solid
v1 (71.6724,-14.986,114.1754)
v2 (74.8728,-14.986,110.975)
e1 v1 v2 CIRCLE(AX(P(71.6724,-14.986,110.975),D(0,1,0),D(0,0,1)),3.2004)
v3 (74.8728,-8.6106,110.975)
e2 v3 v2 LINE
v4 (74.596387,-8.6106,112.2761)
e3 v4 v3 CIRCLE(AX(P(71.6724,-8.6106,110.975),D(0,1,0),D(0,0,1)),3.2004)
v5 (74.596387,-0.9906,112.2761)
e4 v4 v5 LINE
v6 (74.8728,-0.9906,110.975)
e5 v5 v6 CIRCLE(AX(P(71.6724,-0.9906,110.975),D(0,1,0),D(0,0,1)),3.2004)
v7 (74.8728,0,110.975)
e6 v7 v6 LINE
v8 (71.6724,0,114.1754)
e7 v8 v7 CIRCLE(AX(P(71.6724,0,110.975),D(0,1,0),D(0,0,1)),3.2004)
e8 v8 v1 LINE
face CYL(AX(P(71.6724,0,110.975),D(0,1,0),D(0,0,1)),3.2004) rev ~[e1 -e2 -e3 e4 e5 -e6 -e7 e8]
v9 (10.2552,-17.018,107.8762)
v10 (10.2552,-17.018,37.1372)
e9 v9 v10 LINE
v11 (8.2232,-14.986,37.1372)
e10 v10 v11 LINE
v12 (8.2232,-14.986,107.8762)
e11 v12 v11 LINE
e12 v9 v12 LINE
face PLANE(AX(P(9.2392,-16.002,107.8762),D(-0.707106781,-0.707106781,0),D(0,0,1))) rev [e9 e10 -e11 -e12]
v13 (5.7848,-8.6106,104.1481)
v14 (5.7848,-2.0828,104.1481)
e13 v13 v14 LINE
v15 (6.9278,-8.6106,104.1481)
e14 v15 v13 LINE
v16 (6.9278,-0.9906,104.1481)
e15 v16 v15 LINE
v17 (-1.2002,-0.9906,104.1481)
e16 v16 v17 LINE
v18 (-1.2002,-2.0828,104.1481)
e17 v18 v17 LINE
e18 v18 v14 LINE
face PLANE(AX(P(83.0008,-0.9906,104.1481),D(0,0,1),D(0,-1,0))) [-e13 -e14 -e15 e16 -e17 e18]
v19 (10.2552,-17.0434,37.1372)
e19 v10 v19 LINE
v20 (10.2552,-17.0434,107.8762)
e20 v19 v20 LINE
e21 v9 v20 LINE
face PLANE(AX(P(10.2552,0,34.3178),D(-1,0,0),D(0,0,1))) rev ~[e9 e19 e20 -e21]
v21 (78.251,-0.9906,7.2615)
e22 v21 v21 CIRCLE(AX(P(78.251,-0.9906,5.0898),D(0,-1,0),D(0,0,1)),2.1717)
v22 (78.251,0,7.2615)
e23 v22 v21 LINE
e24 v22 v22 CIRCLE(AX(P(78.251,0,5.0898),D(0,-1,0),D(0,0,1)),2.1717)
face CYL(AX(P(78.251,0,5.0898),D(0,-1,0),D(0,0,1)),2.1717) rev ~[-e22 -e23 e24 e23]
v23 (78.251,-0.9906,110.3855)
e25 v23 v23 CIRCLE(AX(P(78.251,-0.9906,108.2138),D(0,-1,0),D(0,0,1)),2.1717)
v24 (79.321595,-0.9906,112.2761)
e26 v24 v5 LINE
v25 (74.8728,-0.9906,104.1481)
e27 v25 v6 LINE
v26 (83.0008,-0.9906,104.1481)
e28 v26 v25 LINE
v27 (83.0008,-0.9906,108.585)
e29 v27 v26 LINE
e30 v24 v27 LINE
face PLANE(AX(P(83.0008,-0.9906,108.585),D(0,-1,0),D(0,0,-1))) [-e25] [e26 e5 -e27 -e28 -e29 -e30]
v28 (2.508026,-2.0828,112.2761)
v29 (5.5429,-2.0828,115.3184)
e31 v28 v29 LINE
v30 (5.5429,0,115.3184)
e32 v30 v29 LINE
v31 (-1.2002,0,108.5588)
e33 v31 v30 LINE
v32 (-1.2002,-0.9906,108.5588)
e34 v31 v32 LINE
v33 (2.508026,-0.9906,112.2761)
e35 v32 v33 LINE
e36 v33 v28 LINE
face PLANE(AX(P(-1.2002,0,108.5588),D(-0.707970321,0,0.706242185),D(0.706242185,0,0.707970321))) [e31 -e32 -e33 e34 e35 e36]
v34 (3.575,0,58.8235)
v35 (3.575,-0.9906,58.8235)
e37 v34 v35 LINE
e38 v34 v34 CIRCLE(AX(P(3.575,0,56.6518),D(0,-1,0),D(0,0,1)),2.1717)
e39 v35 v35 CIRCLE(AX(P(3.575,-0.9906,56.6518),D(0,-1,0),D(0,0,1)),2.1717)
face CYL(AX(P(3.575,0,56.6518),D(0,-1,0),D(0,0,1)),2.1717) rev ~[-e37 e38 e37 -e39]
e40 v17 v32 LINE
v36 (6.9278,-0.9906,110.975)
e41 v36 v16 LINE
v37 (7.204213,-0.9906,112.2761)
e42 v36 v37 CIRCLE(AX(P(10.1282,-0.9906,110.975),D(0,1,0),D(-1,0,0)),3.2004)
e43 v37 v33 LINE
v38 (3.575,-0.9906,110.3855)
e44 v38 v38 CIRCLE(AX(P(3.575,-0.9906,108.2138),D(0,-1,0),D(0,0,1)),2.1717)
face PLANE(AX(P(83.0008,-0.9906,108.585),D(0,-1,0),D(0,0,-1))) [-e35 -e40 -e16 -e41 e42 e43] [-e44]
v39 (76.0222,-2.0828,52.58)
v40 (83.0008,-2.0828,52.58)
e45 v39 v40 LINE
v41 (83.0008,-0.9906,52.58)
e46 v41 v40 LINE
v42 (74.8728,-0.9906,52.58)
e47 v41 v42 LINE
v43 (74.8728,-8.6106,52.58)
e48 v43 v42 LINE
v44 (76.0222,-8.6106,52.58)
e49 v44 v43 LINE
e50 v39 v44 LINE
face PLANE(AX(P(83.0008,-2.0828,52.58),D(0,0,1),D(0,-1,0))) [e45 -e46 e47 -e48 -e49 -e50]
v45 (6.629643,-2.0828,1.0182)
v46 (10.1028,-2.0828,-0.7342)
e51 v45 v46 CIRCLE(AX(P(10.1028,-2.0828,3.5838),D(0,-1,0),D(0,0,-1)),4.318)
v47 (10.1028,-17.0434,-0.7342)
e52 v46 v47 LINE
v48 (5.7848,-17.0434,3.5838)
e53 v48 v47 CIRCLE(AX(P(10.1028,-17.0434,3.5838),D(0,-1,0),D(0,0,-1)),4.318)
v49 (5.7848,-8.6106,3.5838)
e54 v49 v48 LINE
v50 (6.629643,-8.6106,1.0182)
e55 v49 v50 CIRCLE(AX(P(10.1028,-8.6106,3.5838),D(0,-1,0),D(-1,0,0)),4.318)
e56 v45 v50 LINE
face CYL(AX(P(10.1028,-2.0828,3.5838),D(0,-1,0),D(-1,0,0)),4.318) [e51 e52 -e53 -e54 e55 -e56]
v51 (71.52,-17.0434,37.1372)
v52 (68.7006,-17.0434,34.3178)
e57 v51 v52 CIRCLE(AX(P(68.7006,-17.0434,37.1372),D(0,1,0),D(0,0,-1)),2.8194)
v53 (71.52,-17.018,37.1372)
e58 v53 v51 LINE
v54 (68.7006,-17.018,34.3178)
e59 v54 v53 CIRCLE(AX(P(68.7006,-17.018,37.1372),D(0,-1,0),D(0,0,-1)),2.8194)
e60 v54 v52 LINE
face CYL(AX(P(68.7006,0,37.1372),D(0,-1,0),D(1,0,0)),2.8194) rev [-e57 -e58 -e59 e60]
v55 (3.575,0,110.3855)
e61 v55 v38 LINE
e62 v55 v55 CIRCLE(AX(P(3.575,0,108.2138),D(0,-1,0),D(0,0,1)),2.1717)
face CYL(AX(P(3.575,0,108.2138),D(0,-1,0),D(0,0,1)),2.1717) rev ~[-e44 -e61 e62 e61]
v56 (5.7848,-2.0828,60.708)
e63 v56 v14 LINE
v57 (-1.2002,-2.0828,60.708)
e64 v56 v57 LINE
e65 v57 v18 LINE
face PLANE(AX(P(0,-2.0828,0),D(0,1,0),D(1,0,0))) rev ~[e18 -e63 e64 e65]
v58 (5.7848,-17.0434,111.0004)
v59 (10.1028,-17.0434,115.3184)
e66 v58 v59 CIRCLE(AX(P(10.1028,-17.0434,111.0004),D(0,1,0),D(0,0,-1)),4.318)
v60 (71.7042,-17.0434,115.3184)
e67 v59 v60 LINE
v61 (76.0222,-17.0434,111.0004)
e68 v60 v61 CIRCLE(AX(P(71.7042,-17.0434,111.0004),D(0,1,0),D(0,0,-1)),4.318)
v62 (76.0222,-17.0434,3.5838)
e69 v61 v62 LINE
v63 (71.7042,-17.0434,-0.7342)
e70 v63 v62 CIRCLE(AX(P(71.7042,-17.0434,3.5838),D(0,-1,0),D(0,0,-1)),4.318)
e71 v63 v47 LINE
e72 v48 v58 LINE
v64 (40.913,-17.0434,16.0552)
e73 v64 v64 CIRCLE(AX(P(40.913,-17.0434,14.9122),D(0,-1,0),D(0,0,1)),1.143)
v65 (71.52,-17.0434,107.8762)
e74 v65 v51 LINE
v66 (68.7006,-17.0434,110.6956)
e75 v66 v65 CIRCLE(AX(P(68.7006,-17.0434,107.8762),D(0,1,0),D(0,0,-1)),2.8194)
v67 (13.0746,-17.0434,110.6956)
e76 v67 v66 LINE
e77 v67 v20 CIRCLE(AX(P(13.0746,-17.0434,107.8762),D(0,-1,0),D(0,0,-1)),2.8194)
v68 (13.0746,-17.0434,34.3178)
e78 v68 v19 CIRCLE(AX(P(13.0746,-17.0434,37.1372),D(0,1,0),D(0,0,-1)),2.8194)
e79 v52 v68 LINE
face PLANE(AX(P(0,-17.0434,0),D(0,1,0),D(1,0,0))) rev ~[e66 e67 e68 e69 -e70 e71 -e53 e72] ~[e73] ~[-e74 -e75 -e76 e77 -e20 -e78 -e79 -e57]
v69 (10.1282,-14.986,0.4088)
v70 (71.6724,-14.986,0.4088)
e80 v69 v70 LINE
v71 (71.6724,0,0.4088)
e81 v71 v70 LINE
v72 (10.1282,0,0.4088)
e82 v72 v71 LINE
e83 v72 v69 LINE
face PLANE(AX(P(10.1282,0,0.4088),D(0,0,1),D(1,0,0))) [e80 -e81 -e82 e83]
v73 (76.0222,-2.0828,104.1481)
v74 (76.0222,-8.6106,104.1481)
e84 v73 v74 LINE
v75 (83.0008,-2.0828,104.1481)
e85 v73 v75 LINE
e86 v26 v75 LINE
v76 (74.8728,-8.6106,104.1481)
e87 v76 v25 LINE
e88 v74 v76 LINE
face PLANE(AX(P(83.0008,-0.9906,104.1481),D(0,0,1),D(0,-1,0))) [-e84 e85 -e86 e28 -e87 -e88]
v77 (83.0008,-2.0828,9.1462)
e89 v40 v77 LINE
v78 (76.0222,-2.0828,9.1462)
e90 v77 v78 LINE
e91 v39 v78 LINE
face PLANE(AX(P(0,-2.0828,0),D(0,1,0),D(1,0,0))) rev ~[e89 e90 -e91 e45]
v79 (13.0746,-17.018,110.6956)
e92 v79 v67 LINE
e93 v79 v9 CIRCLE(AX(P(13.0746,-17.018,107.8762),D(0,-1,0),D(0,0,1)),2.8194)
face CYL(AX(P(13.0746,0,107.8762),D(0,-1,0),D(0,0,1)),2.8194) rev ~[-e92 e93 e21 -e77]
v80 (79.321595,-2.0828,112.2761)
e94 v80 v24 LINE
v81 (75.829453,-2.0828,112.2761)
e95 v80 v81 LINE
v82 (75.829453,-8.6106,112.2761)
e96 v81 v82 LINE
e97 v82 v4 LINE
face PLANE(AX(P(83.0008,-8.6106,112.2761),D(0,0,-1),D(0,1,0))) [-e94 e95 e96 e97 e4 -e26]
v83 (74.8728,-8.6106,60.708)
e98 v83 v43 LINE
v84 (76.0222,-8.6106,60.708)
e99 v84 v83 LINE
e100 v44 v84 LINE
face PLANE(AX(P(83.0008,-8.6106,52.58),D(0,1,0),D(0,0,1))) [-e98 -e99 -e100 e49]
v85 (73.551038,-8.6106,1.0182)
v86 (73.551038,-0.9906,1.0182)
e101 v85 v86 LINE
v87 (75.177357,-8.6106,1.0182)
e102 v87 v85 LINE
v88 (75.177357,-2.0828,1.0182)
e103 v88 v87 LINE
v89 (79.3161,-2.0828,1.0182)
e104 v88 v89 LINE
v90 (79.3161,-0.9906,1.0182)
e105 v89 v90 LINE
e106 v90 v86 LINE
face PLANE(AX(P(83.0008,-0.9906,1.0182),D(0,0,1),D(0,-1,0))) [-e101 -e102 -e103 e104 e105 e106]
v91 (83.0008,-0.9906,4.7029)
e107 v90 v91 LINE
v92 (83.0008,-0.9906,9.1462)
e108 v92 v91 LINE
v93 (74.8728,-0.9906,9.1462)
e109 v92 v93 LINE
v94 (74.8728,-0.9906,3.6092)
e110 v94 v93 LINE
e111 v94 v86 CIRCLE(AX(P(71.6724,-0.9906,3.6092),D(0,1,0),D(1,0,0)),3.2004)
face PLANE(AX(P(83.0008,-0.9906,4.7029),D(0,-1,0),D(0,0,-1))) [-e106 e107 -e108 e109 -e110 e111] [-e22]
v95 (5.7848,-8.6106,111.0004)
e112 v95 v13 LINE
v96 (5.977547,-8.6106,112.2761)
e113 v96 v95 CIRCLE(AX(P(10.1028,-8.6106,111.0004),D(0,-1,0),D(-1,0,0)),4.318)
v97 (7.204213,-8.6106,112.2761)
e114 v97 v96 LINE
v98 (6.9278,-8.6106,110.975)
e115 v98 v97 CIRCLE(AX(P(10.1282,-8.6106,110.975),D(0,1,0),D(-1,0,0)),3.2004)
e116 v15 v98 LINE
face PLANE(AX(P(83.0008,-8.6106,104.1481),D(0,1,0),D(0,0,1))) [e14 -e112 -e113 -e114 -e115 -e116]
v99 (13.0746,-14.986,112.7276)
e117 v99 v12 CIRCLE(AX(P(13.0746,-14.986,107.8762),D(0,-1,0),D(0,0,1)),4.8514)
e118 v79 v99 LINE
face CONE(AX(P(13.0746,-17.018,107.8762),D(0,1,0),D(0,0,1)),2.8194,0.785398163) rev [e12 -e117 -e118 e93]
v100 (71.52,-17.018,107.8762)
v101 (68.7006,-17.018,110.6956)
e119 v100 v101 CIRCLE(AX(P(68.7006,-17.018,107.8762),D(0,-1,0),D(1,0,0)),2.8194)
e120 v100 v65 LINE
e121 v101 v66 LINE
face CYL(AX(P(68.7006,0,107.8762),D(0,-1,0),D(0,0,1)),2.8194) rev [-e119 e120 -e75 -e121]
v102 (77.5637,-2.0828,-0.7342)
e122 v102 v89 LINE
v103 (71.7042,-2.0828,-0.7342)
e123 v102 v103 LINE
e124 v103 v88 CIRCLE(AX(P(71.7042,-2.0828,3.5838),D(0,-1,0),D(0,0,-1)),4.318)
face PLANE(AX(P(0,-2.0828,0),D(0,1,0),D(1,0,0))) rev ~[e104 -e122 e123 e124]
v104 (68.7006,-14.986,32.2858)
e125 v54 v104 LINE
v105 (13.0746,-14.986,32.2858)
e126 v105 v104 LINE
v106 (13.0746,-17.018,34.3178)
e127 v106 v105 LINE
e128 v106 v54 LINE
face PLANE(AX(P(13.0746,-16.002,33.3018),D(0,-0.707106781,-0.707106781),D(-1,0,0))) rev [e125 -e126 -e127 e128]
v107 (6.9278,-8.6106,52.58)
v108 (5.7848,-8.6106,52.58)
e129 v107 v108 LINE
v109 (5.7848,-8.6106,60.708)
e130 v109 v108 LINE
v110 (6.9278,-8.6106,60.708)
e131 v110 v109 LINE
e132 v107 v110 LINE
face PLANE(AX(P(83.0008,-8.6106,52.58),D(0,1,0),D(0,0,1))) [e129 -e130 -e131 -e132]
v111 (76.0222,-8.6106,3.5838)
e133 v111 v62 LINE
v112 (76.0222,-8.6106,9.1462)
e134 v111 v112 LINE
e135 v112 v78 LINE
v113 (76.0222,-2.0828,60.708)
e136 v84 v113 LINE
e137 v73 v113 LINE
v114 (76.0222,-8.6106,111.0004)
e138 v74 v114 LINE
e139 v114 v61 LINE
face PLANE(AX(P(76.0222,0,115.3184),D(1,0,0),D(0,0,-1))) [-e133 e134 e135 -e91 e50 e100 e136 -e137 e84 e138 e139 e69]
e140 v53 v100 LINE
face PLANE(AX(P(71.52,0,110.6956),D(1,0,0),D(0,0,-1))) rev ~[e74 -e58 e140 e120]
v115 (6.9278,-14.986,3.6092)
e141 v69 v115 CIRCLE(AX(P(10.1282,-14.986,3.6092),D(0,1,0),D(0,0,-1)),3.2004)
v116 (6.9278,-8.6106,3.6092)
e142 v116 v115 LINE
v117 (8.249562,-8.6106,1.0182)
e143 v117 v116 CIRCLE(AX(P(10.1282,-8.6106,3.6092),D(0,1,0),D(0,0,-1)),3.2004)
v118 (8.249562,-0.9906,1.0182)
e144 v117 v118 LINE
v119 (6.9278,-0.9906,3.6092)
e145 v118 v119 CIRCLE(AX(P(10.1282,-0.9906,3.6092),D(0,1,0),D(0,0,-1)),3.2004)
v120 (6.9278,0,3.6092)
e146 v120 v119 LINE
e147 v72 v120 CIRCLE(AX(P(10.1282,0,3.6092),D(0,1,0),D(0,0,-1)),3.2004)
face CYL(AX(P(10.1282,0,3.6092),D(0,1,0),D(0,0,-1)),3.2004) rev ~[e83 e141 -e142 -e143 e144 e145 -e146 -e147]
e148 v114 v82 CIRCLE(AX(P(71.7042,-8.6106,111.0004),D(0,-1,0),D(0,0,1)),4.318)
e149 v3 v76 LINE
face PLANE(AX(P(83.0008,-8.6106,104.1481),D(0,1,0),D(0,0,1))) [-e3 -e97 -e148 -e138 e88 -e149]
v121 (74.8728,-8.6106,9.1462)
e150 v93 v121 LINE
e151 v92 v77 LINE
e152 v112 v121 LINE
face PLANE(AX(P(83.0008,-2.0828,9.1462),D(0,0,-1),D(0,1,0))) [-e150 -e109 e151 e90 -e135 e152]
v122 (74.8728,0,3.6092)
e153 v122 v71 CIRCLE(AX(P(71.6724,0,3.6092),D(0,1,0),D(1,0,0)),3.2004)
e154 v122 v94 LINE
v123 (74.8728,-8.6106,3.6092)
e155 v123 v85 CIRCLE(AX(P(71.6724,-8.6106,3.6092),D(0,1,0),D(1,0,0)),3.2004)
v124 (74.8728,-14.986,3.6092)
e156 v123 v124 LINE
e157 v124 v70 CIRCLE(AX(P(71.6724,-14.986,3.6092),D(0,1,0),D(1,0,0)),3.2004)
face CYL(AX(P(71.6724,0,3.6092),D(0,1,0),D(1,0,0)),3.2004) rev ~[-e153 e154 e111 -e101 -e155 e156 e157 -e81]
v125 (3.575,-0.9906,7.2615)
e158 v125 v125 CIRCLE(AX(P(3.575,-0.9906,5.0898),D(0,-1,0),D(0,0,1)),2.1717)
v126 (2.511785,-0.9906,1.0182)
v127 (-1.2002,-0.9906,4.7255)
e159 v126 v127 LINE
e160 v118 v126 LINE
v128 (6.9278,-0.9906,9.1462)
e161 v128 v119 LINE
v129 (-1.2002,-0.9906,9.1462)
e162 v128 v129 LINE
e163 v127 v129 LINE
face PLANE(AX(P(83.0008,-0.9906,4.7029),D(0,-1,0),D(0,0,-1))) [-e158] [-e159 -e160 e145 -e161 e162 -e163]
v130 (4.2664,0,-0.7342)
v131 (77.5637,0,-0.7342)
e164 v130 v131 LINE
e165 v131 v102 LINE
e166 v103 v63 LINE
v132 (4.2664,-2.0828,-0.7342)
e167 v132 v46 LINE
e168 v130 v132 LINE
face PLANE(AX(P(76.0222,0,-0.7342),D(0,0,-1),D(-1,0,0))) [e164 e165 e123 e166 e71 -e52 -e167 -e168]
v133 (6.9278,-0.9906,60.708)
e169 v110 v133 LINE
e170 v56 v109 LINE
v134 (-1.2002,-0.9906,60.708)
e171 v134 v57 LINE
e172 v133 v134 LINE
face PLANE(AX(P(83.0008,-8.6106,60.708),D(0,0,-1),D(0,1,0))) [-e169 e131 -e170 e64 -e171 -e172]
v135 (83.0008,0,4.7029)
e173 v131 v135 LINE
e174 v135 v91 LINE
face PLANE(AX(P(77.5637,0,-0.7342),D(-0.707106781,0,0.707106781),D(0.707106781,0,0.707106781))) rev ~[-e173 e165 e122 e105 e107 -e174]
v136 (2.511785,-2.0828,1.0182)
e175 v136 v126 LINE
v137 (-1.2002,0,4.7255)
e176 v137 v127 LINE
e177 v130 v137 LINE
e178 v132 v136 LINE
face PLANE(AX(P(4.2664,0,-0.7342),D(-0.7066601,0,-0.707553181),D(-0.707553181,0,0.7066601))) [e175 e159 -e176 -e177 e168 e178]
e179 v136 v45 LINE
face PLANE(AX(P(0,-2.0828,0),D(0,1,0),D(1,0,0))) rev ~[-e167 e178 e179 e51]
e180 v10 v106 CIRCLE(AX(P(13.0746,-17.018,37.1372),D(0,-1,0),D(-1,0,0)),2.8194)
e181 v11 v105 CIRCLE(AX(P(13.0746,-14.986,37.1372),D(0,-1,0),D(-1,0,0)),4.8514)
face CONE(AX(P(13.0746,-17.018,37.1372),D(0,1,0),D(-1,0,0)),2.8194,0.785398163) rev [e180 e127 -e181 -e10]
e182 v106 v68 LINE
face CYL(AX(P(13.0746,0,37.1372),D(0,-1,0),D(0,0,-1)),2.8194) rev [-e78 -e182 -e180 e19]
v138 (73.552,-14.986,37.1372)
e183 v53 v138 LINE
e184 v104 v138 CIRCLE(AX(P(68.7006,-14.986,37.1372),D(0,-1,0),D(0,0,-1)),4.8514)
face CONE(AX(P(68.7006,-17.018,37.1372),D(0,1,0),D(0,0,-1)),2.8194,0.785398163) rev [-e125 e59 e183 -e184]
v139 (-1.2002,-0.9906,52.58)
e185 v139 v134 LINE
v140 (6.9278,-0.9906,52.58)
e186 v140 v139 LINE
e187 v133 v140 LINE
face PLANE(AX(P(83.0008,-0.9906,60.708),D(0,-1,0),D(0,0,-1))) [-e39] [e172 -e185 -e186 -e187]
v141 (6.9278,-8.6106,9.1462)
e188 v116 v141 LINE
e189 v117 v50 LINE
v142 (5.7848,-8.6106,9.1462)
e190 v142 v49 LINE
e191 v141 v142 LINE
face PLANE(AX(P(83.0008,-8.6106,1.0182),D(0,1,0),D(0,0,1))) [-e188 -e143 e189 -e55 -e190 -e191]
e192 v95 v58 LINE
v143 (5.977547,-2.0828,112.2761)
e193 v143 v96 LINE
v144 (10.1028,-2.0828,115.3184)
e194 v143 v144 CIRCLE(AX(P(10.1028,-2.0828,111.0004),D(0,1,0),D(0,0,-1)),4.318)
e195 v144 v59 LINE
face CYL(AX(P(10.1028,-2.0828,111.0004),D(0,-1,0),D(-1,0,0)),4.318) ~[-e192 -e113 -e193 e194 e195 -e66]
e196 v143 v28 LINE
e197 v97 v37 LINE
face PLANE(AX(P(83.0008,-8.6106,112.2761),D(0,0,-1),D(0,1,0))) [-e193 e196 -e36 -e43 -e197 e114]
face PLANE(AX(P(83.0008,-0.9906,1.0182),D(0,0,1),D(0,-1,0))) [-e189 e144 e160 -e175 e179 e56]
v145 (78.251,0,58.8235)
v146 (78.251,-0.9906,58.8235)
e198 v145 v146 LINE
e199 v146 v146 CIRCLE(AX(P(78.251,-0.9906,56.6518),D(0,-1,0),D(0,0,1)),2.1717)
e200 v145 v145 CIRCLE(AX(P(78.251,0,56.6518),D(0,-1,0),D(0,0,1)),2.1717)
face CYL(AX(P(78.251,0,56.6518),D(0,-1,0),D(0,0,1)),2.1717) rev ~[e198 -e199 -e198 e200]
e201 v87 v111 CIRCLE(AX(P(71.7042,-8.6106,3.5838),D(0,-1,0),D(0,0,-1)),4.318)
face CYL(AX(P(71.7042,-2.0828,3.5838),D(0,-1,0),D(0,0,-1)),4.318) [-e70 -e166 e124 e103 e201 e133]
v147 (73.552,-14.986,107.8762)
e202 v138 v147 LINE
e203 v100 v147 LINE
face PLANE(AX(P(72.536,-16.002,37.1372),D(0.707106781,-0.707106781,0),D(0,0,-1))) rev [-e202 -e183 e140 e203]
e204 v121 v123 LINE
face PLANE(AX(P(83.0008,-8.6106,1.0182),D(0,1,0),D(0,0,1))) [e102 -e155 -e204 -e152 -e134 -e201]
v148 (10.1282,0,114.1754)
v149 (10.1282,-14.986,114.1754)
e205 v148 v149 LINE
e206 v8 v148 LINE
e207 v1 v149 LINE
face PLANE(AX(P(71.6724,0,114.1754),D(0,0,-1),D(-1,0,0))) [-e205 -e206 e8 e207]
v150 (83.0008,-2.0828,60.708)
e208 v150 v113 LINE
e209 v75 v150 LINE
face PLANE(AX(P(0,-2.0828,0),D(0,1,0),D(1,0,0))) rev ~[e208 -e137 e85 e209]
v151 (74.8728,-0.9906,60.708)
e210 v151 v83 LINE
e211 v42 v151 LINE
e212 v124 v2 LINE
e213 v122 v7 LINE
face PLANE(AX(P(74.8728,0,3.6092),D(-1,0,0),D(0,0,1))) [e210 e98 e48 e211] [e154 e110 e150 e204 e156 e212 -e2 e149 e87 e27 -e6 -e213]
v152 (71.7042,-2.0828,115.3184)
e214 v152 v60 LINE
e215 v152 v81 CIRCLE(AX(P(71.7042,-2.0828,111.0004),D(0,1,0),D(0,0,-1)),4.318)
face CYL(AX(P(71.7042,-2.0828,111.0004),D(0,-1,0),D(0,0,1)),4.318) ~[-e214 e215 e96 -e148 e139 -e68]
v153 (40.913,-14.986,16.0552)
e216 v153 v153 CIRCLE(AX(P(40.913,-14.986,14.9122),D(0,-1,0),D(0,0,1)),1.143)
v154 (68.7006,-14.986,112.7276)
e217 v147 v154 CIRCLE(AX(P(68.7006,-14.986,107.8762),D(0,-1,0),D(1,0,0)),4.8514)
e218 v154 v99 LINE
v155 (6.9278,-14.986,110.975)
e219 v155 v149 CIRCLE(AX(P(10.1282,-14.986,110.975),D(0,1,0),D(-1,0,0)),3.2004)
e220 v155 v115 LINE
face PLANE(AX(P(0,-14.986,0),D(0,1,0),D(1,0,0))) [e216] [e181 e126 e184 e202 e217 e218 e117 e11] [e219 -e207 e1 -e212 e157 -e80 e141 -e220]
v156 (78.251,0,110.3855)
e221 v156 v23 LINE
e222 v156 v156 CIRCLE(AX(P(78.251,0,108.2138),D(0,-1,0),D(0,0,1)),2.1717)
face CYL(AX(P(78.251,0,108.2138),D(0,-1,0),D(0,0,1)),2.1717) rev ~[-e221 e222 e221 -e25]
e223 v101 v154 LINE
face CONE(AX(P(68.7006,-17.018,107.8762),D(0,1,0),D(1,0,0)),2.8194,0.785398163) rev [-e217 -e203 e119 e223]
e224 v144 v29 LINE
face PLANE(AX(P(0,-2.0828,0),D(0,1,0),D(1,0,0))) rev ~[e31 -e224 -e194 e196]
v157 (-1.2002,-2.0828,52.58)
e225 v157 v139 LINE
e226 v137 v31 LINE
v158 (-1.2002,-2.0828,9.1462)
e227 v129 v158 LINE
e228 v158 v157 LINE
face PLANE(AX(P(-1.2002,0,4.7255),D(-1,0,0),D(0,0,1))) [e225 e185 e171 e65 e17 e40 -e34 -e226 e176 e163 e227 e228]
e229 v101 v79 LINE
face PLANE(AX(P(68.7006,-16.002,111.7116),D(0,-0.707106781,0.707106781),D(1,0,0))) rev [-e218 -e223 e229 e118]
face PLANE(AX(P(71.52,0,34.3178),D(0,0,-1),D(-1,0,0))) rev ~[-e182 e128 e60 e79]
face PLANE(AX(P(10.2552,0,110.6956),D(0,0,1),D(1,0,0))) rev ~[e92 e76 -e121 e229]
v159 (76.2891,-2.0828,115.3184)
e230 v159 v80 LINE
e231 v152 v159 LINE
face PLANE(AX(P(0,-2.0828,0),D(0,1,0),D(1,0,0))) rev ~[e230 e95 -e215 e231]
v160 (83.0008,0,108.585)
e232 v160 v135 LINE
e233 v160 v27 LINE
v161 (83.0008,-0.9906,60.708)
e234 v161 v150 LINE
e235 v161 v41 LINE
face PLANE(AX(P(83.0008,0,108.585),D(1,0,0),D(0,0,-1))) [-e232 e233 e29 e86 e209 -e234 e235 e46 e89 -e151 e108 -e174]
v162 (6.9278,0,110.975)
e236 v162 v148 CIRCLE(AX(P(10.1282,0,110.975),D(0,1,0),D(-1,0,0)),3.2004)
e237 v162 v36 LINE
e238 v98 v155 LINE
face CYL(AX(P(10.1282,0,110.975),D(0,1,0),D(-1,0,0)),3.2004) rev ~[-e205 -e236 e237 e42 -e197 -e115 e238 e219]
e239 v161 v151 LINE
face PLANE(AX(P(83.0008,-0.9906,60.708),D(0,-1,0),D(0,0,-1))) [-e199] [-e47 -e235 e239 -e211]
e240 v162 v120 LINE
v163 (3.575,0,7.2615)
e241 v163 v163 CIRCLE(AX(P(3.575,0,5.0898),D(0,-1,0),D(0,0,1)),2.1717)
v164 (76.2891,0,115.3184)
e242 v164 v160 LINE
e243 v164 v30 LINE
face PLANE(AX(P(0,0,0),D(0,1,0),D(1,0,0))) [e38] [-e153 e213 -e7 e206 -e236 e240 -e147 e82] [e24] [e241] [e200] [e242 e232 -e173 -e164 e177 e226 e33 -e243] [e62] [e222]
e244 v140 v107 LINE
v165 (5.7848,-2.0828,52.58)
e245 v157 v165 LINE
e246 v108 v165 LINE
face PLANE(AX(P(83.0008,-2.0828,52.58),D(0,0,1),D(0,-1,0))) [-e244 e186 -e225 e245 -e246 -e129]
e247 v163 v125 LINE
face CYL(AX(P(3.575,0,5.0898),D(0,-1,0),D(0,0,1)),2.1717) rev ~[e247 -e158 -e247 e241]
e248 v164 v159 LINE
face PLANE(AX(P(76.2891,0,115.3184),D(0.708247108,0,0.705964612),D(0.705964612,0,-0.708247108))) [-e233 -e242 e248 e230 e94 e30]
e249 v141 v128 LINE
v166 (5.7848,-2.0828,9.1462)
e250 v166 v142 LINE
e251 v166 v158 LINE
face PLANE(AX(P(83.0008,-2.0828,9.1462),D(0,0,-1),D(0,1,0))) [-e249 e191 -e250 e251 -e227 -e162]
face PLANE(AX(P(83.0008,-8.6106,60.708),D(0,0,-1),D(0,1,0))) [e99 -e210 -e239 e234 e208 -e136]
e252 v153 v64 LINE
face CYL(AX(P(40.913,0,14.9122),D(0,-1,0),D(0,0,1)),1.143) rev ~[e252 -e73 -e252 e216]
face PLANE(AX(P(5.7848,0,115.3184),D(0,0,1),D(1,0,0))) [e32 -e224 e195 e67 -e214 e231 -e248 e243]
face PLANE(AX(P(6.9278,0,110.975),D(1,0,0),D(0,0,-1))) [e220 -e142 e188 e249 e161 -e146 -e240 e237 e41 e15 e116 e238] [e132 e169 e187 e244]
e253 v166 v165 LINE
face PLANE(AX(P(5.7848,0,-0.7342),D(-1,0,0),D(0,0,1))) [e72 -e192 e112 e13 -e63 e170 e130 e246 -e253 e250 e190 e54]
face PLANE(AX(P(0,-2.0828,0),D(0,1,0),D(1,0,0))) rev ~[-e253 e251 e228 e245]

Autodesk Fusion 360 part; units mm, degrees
sketch "Front" plane through (0, 0, 0) normal (0, 1, 0) x (1, 0, 0) in component "2004699A"
  line L0 (-34.4613, 0.7342) -> (100.7673, 0.7342) construction
  line L1 (-34.854, -115.3184) -> (120.0108, -115.3184) construction
  line L2 (39.1093, -14.9122) -> (120.6654, -14.9122) construction
  line L3 (3.575, 24.5274) -> (3.575, -141.9882) construction
  line L4 (78.251, 23.8729) -> (78.251, -119.9956) construction
  line L5 (-16.7886, -108.2138) -> (88.0691, -108.2138) construction
  line L6 (-18.2286, -5.0898) -> (85.3201, -5.0898) construction
  line L7 (-8.6723, -56.6518) -> (96.0546, -56.6518) construction
  line L8 (-24.3813, -113.9722) -> (90.4255, -113.9722) construction
  line L9 (-27.0881, -0.4088) -> (83.5136, -0.4088) construction
  line L10 (10.2552, -130.527) -> (10.2552, 10.1996) construction
  line L11 (71.52, -130.1852) -> (71.52, 12.6775) construction
  line L12 (5.7848, -130.0998) -> (5.7848, 6.3546) construction
  line L13 (83.0008, -137.1267) -> (83.0008, 10.6162) construction
  line L14 (-1.2002, -137.339) -> (-1.2002, 17.644) construction
  line L15 (110.5413, -110.6956) -> (5.7848, -110.6956) construction
  line L16 (110.1974, -34.3178) -> (-2.9547, -34.3178) construction
  line L17 (102.8889, -60.7158) -> (-8.8875, -60.7158) construction
  line L18 (102.459, -52.5878) -> (-11.4669, -52.5878) construction
  line L19 (40.913, -17.1802) -> (40.913, 17.1835) construction
  line L20 (69.6478, 8.6501) -> (89.4046, -11.1067) construction
  line L21 (-5.4342, -8.9542) -> (10.2552, 6.7154) construction
  line L22 (-6.1303, -103.6453) -> (12.6902, -122.4658) construction
  line L23 (73.7302, -117.8806) -> (90.3753, -101.2137) construction
  line L24 (-2.868, -104.1498) -> (87.443, -104.1498) construction
  line L25 (-3.4391, -112.2778) -> (87.0011, -112.2778) construction
  line L26 (-3.1536, -9.1538) -> (86.0732, -9.1538) construction
  line L27 (-3.3677, -1.0258) -> (85.288, -1.0258) construction
  line L28 (10.2552, -110.6956) -> (71.52, -110.6956)
  line L29 (71.52, -110.6956) -> (71.52, -34.3178)
  line L30 (71.52, -34.3178) -> (10.2552, -34.3178)
  line L31 (10.2552, -34.3178) -> (10.2552, -110.6956)
  line L32 (-1.2002, -115.3184) -> (83.0008, -115.3184)
  line L33 (83.0008, -115.3184) -> (83.0008, 0.7342)
  line L34 (83.0008, 0.7342) -> (-1.2002, 0.7342)
  line L35 (-1.2002, 0.7342) -> (-1.2002, -115.3184)
  line L36 (76.0158, -119.9569) -> (76.0158, 9.6762) construction
  line L37 (5.7848, -115.3184) -> (76.0222, -115.3184) construction
  line L38 (76.0222, -115.3184) -> (76.0222, 0.7342) construction
  line L39 (76.0222, 0.7342) -> (5.7848, 0.7342) construction
  line L40 (5.7848, 0.7342) -> (5.7848, -115.3184) construction
  line L41 (76.0222, 0.7342) -> (5.7848, 0.7342)
  line L42 (5.7848, 0.7342) -> (5.7848, -115.3184)
  line L43 (5.7848, -115.3184) -> (76.0222, -115.3184)
  line L44 (76.0222, -115.3184) -> (76.0222, 0.7342)
  line L45 (-1.2002, -108.5588) -> (5.5429, -115.3184)
  line L46 (76.2891, -115.3184) -> (83.0008, -108.585)
  line L47 (77.5637, 0.7342) -> (83.0008, -4.7029)
  line L48 (4.2664, 0.7342) -> (-1.2002, -4.7255)
  point P0 (3.575, -108.2138)
  point P1 (78.251, -108.2138)
  point P2 (78.251, -56.6518)
  point P3 (78.251, -5.0898)
  point P4 (3.575, -5.0898)
  point P5 (3.575, -56.6518)
  point P6 (40.913, -14.9122)
  dimension "d1" = 1.143
  dimension "d2" = 116.0526
  dimension "d3" = 113.5634
  dimension "d4" = 103.124
  dimension "d5" = 51.562
  dimension "d6" = 74.676
  dimension "d7" = 2.2098
  dimension "d8" = 4.4704
  dimension "d9" = 61.2648
  dimension "d10" = 84.201
  dimension "d11" = 6.985
  dimension "d12" = 76.3778
  dimension "d13" = 4.6228
  dimension "d14" = 100.4062
  dimension "d15" = 37.338
  dimension "d16" = 8.128
  dimension "d17" = 4.064
  dimension "d18" = 3.6322
  dimension "d19" = 3.6322
  dimension "d20" = 3.6322
  dimension "d21" = 3.6322
  dimension "d22" = 4.064
  dimension "d23" = 8.128
  dimension "d25" = 4.064
  dimension "d26" = 8.128
  dimension "d27" = 70.231
extrude "Extrude1" add sketch "Front" against normal blind 17.0434 contours L32 L34 L41 L42 L43 L44 in component "2004699A"
extrude "Extrude2" add sketch "Front" against normal blind 2.0828 contours L32 L34 L35 L42 L45 L48 | L32 L33 L34 L44 L46 L47 in component "2004699A"
fillet "Fillet1" radius 4.318 4 edges at (5.7848, -9.5631, -0.7342) (76.0222, -9.5631, -0.7342) (76.0222, -9.5631, 115.3184) (5.7848, -9.5631, 115.3184) in component "2004699A"
fillet "Fillet2" radius 2.8194 4 edges at (71.52, -8.5217, 110.6956) (10.2552, -8.5217, 110.6956) (71.52, -8.5217, 34.3178) (10.2552, -8.5217, 34.3178) in component "2004699A"
hole "Hole1" at (78.251, 0, 108.2138) at (78.251, 0, 56.6518) at (78.251, 0, 5.0898) at (3.575, 0, 5.0898) at (3.575, 0, 56.6518) at (3.575, 0, 108.2138) direction (0, -1, 0) diameter 4.3434 end through all in component "2004699A"
sketch "Sketch3" plane through (0, 0, 0) normal (0, 1, 0) x (1, 0, 0) in component "2004699A"
  line L0 (88.5571, -114.1754) -> (-29.017, -114.1754) construction
  line L1 (6.9278, -119.135) -> (6.9278, -3.6092) construction
  line L2 (74.8728, -110.975) -> (74.8728, 6.1599) construction
  line L3 (95.5329, -0.4088) -> (-26.782, -0.4088) construction
  line L4 (-34.4613, 0.7342) -> (100.7673, 0.7342) construction
  line L5 (5.7848, -130.0998) -> (5.7848, 6.3546) construction
  line L6 (-34.854, -115.3184) -> (120.0108, -115.3184) construction
  line L7 (76.0158, -119.9569) -> (76.0158, 9.6762) construction
  line L8 (71.6724, -114.1754) -> (10.1282, -114.1754)
  line L9 (6.9278, -110.975) -> (6.9278, -0.4088)
  line L10 (10.1282, -0.4088) -> (71.6724, -0.4088)
  line L11 (74.8728, -3.6092) -> (74.8728, -114.1754)
  arc A0 (74.8728, -3.6092) -> (71.6724, -0.4088) centre (71.6724, -3.6092) ccw
  arc A1 (10.1282, -0.4088) -> (6.9278, -3.6092) centre (10.1282, -3.6092) ccw
  arc A2 (71.6724, -114.1754) -> (74.8728, -110.975) centre (71.6724, -110.975) ccw
  arc A3 (6.9278, -110.975) -> (10.1282, -114.1754) centre (10.1282, -110.975) ccw
  dimension "d37" = 1.143
  dimension "d38" = 1.143
  dimension "d39" = 1.143
  dimension "d40" = 1.143
  dimension "d41" = 3.2004
  dimension "d42" = 3.2004
  dimension "d43" = 3.2004
  dimension "d44" = 3.2004
extrude "Extrude3" cut sketch "Sketch3" against normal blind 14.986 in component "2004699A"
chamfer "Chamfer1" distance 2.032 angle 45 8 edges at (40.8876, -14.986, 34.3178) (11.081, -14.986, 35.1436) (10.2552, -14.986, 72.5067) (11.081, -14.986, 109.8698) (40.8876, -14.986, 110.6956) (70.6942, -14.986, 109.8698) (71.52, -14.986, 72.5067) (70.6942, -14.986, 35.1436) in component "2004699A"
sketch "Sketch4" plane through (83.0008, 0, 0) normal (1, 0, 0) x (0, 1, 0) in component "2004699A"
  line L0 (0, 4.7029) -> (0, 108.585)
  line L1 (0, 108.585) -> (-2.0828, 108.585)
  line L2 (-2.0828, 108.585) -> (-2.0828, 4.7029)
  line L3 (-2.0828, 4.7029) -> (0, 4.7029)
  line L4 (-0.9906, 121.8672) -> (-0.9906, -5.2486) construction
  line L5 (0, 108.2121) -> (-3.3976, 108.2121) construction
  line L6 (0, 56.644) -> (-3.817, 56.644) construction
  line L7 (0, 0) -> (-1.1062, 0) construction
  line L8 (1.8872, 112.2761) -> (-9.9271, 112.2761) construction
  line L9 (1.8112, 104.1481) -> (-10.4595, 104.1481) construction
  line L10 (1.71, 60.708) -> (-9.8241, 60.708) construction
  line L11 (2.1656, 52.58) -> (0.9254, 52.58) construction
  line L12 (0.9254, 52.58) -> (-9.5412, 52.58) construction
  line L13 (0, 5.0822) -> (-6.1548, 5.0822) construction
  line L14 (2.1892, 9.1462) -> (-10.0058, 9.1462) construction
  line L15 (2.6197, 1.0182) -> (-10.581, 1.0182) construction
  line L16 (-8.6106, 122.6091) -> (-8.6106, -10.4565) construction
  line L17 (-8.6106, 60.708) -> (-0.9906, 60.708)
  line L18 (-0.9906, 60.708) -> (-0.9906, 52.58)
  line L19 (-0.9906, 52.58) -> (-8.6106, 52.58)
  line L20 (-8.6106, 52.58) -> (-8.6106, 60.708)
  line L21 (-8.6106, 9.1462) -> (-0.9906, 9.1462)
  line L22 (-0.9906, 9.1462) -> (-0.9906, 1.0182)
  line L23 (-0.9906, 1.0182) -> (-8.6106, 1.0182)
  line L24 (-8.6106, 1.0182) -> (-8.6106, 9.1462)
  line L25 (-8.6106, 112.2761) -> (-0.9906, 112.2761)
  line L26 (-0.9906, 112.2761) -> (-0.9906, 104.1481)
  line L27 (-0.9906, 104.1481) -> (-8.6106, 104.1481)
  line L28 (-8.6106, 104.1481) -> (-8.6106, 112.2761)
  point P0 (0, 119.9956)
  dimension "d48" = 0.9906
  dimension "d49" = 4.064
  dimension "d50" = 8.128
  dimension "d51" = 4.064
  dimension "d52" = 8.128
  dimension "d54" = 4.064
  dimension "d55" = 8.128
  dimension "d56" = 7.62
extrude "Extrude4" cut sketch "Sketch4" against normal through all contours L2 L3 L21 L22 L23 L24 | L2 L3 L21 L22 | L1 L2 L26 L27 | L1 L2 L25 L26 L27 L28 | L2 L17 L19 L20 | L2 L17 L18 L19 in component "2004699A"
hole "Hole2" at (40.913, 0, 14.9122) direction (0, -1, 0) diameter 2.286 end through all in component "2004699A"
component "2004699A" placed x (1, 0, 0) y (0, 1, 0) z (0, 0, 1) at (0, 0, 0)
equation "d41 = 0.171 in - 0.045 in"
equation "d42 = 0.171 in - 0.045 in"
equation "d43 = 0.171 in - 0.045 in"
equation "d44 = 0.171 in - 0.045 in"
